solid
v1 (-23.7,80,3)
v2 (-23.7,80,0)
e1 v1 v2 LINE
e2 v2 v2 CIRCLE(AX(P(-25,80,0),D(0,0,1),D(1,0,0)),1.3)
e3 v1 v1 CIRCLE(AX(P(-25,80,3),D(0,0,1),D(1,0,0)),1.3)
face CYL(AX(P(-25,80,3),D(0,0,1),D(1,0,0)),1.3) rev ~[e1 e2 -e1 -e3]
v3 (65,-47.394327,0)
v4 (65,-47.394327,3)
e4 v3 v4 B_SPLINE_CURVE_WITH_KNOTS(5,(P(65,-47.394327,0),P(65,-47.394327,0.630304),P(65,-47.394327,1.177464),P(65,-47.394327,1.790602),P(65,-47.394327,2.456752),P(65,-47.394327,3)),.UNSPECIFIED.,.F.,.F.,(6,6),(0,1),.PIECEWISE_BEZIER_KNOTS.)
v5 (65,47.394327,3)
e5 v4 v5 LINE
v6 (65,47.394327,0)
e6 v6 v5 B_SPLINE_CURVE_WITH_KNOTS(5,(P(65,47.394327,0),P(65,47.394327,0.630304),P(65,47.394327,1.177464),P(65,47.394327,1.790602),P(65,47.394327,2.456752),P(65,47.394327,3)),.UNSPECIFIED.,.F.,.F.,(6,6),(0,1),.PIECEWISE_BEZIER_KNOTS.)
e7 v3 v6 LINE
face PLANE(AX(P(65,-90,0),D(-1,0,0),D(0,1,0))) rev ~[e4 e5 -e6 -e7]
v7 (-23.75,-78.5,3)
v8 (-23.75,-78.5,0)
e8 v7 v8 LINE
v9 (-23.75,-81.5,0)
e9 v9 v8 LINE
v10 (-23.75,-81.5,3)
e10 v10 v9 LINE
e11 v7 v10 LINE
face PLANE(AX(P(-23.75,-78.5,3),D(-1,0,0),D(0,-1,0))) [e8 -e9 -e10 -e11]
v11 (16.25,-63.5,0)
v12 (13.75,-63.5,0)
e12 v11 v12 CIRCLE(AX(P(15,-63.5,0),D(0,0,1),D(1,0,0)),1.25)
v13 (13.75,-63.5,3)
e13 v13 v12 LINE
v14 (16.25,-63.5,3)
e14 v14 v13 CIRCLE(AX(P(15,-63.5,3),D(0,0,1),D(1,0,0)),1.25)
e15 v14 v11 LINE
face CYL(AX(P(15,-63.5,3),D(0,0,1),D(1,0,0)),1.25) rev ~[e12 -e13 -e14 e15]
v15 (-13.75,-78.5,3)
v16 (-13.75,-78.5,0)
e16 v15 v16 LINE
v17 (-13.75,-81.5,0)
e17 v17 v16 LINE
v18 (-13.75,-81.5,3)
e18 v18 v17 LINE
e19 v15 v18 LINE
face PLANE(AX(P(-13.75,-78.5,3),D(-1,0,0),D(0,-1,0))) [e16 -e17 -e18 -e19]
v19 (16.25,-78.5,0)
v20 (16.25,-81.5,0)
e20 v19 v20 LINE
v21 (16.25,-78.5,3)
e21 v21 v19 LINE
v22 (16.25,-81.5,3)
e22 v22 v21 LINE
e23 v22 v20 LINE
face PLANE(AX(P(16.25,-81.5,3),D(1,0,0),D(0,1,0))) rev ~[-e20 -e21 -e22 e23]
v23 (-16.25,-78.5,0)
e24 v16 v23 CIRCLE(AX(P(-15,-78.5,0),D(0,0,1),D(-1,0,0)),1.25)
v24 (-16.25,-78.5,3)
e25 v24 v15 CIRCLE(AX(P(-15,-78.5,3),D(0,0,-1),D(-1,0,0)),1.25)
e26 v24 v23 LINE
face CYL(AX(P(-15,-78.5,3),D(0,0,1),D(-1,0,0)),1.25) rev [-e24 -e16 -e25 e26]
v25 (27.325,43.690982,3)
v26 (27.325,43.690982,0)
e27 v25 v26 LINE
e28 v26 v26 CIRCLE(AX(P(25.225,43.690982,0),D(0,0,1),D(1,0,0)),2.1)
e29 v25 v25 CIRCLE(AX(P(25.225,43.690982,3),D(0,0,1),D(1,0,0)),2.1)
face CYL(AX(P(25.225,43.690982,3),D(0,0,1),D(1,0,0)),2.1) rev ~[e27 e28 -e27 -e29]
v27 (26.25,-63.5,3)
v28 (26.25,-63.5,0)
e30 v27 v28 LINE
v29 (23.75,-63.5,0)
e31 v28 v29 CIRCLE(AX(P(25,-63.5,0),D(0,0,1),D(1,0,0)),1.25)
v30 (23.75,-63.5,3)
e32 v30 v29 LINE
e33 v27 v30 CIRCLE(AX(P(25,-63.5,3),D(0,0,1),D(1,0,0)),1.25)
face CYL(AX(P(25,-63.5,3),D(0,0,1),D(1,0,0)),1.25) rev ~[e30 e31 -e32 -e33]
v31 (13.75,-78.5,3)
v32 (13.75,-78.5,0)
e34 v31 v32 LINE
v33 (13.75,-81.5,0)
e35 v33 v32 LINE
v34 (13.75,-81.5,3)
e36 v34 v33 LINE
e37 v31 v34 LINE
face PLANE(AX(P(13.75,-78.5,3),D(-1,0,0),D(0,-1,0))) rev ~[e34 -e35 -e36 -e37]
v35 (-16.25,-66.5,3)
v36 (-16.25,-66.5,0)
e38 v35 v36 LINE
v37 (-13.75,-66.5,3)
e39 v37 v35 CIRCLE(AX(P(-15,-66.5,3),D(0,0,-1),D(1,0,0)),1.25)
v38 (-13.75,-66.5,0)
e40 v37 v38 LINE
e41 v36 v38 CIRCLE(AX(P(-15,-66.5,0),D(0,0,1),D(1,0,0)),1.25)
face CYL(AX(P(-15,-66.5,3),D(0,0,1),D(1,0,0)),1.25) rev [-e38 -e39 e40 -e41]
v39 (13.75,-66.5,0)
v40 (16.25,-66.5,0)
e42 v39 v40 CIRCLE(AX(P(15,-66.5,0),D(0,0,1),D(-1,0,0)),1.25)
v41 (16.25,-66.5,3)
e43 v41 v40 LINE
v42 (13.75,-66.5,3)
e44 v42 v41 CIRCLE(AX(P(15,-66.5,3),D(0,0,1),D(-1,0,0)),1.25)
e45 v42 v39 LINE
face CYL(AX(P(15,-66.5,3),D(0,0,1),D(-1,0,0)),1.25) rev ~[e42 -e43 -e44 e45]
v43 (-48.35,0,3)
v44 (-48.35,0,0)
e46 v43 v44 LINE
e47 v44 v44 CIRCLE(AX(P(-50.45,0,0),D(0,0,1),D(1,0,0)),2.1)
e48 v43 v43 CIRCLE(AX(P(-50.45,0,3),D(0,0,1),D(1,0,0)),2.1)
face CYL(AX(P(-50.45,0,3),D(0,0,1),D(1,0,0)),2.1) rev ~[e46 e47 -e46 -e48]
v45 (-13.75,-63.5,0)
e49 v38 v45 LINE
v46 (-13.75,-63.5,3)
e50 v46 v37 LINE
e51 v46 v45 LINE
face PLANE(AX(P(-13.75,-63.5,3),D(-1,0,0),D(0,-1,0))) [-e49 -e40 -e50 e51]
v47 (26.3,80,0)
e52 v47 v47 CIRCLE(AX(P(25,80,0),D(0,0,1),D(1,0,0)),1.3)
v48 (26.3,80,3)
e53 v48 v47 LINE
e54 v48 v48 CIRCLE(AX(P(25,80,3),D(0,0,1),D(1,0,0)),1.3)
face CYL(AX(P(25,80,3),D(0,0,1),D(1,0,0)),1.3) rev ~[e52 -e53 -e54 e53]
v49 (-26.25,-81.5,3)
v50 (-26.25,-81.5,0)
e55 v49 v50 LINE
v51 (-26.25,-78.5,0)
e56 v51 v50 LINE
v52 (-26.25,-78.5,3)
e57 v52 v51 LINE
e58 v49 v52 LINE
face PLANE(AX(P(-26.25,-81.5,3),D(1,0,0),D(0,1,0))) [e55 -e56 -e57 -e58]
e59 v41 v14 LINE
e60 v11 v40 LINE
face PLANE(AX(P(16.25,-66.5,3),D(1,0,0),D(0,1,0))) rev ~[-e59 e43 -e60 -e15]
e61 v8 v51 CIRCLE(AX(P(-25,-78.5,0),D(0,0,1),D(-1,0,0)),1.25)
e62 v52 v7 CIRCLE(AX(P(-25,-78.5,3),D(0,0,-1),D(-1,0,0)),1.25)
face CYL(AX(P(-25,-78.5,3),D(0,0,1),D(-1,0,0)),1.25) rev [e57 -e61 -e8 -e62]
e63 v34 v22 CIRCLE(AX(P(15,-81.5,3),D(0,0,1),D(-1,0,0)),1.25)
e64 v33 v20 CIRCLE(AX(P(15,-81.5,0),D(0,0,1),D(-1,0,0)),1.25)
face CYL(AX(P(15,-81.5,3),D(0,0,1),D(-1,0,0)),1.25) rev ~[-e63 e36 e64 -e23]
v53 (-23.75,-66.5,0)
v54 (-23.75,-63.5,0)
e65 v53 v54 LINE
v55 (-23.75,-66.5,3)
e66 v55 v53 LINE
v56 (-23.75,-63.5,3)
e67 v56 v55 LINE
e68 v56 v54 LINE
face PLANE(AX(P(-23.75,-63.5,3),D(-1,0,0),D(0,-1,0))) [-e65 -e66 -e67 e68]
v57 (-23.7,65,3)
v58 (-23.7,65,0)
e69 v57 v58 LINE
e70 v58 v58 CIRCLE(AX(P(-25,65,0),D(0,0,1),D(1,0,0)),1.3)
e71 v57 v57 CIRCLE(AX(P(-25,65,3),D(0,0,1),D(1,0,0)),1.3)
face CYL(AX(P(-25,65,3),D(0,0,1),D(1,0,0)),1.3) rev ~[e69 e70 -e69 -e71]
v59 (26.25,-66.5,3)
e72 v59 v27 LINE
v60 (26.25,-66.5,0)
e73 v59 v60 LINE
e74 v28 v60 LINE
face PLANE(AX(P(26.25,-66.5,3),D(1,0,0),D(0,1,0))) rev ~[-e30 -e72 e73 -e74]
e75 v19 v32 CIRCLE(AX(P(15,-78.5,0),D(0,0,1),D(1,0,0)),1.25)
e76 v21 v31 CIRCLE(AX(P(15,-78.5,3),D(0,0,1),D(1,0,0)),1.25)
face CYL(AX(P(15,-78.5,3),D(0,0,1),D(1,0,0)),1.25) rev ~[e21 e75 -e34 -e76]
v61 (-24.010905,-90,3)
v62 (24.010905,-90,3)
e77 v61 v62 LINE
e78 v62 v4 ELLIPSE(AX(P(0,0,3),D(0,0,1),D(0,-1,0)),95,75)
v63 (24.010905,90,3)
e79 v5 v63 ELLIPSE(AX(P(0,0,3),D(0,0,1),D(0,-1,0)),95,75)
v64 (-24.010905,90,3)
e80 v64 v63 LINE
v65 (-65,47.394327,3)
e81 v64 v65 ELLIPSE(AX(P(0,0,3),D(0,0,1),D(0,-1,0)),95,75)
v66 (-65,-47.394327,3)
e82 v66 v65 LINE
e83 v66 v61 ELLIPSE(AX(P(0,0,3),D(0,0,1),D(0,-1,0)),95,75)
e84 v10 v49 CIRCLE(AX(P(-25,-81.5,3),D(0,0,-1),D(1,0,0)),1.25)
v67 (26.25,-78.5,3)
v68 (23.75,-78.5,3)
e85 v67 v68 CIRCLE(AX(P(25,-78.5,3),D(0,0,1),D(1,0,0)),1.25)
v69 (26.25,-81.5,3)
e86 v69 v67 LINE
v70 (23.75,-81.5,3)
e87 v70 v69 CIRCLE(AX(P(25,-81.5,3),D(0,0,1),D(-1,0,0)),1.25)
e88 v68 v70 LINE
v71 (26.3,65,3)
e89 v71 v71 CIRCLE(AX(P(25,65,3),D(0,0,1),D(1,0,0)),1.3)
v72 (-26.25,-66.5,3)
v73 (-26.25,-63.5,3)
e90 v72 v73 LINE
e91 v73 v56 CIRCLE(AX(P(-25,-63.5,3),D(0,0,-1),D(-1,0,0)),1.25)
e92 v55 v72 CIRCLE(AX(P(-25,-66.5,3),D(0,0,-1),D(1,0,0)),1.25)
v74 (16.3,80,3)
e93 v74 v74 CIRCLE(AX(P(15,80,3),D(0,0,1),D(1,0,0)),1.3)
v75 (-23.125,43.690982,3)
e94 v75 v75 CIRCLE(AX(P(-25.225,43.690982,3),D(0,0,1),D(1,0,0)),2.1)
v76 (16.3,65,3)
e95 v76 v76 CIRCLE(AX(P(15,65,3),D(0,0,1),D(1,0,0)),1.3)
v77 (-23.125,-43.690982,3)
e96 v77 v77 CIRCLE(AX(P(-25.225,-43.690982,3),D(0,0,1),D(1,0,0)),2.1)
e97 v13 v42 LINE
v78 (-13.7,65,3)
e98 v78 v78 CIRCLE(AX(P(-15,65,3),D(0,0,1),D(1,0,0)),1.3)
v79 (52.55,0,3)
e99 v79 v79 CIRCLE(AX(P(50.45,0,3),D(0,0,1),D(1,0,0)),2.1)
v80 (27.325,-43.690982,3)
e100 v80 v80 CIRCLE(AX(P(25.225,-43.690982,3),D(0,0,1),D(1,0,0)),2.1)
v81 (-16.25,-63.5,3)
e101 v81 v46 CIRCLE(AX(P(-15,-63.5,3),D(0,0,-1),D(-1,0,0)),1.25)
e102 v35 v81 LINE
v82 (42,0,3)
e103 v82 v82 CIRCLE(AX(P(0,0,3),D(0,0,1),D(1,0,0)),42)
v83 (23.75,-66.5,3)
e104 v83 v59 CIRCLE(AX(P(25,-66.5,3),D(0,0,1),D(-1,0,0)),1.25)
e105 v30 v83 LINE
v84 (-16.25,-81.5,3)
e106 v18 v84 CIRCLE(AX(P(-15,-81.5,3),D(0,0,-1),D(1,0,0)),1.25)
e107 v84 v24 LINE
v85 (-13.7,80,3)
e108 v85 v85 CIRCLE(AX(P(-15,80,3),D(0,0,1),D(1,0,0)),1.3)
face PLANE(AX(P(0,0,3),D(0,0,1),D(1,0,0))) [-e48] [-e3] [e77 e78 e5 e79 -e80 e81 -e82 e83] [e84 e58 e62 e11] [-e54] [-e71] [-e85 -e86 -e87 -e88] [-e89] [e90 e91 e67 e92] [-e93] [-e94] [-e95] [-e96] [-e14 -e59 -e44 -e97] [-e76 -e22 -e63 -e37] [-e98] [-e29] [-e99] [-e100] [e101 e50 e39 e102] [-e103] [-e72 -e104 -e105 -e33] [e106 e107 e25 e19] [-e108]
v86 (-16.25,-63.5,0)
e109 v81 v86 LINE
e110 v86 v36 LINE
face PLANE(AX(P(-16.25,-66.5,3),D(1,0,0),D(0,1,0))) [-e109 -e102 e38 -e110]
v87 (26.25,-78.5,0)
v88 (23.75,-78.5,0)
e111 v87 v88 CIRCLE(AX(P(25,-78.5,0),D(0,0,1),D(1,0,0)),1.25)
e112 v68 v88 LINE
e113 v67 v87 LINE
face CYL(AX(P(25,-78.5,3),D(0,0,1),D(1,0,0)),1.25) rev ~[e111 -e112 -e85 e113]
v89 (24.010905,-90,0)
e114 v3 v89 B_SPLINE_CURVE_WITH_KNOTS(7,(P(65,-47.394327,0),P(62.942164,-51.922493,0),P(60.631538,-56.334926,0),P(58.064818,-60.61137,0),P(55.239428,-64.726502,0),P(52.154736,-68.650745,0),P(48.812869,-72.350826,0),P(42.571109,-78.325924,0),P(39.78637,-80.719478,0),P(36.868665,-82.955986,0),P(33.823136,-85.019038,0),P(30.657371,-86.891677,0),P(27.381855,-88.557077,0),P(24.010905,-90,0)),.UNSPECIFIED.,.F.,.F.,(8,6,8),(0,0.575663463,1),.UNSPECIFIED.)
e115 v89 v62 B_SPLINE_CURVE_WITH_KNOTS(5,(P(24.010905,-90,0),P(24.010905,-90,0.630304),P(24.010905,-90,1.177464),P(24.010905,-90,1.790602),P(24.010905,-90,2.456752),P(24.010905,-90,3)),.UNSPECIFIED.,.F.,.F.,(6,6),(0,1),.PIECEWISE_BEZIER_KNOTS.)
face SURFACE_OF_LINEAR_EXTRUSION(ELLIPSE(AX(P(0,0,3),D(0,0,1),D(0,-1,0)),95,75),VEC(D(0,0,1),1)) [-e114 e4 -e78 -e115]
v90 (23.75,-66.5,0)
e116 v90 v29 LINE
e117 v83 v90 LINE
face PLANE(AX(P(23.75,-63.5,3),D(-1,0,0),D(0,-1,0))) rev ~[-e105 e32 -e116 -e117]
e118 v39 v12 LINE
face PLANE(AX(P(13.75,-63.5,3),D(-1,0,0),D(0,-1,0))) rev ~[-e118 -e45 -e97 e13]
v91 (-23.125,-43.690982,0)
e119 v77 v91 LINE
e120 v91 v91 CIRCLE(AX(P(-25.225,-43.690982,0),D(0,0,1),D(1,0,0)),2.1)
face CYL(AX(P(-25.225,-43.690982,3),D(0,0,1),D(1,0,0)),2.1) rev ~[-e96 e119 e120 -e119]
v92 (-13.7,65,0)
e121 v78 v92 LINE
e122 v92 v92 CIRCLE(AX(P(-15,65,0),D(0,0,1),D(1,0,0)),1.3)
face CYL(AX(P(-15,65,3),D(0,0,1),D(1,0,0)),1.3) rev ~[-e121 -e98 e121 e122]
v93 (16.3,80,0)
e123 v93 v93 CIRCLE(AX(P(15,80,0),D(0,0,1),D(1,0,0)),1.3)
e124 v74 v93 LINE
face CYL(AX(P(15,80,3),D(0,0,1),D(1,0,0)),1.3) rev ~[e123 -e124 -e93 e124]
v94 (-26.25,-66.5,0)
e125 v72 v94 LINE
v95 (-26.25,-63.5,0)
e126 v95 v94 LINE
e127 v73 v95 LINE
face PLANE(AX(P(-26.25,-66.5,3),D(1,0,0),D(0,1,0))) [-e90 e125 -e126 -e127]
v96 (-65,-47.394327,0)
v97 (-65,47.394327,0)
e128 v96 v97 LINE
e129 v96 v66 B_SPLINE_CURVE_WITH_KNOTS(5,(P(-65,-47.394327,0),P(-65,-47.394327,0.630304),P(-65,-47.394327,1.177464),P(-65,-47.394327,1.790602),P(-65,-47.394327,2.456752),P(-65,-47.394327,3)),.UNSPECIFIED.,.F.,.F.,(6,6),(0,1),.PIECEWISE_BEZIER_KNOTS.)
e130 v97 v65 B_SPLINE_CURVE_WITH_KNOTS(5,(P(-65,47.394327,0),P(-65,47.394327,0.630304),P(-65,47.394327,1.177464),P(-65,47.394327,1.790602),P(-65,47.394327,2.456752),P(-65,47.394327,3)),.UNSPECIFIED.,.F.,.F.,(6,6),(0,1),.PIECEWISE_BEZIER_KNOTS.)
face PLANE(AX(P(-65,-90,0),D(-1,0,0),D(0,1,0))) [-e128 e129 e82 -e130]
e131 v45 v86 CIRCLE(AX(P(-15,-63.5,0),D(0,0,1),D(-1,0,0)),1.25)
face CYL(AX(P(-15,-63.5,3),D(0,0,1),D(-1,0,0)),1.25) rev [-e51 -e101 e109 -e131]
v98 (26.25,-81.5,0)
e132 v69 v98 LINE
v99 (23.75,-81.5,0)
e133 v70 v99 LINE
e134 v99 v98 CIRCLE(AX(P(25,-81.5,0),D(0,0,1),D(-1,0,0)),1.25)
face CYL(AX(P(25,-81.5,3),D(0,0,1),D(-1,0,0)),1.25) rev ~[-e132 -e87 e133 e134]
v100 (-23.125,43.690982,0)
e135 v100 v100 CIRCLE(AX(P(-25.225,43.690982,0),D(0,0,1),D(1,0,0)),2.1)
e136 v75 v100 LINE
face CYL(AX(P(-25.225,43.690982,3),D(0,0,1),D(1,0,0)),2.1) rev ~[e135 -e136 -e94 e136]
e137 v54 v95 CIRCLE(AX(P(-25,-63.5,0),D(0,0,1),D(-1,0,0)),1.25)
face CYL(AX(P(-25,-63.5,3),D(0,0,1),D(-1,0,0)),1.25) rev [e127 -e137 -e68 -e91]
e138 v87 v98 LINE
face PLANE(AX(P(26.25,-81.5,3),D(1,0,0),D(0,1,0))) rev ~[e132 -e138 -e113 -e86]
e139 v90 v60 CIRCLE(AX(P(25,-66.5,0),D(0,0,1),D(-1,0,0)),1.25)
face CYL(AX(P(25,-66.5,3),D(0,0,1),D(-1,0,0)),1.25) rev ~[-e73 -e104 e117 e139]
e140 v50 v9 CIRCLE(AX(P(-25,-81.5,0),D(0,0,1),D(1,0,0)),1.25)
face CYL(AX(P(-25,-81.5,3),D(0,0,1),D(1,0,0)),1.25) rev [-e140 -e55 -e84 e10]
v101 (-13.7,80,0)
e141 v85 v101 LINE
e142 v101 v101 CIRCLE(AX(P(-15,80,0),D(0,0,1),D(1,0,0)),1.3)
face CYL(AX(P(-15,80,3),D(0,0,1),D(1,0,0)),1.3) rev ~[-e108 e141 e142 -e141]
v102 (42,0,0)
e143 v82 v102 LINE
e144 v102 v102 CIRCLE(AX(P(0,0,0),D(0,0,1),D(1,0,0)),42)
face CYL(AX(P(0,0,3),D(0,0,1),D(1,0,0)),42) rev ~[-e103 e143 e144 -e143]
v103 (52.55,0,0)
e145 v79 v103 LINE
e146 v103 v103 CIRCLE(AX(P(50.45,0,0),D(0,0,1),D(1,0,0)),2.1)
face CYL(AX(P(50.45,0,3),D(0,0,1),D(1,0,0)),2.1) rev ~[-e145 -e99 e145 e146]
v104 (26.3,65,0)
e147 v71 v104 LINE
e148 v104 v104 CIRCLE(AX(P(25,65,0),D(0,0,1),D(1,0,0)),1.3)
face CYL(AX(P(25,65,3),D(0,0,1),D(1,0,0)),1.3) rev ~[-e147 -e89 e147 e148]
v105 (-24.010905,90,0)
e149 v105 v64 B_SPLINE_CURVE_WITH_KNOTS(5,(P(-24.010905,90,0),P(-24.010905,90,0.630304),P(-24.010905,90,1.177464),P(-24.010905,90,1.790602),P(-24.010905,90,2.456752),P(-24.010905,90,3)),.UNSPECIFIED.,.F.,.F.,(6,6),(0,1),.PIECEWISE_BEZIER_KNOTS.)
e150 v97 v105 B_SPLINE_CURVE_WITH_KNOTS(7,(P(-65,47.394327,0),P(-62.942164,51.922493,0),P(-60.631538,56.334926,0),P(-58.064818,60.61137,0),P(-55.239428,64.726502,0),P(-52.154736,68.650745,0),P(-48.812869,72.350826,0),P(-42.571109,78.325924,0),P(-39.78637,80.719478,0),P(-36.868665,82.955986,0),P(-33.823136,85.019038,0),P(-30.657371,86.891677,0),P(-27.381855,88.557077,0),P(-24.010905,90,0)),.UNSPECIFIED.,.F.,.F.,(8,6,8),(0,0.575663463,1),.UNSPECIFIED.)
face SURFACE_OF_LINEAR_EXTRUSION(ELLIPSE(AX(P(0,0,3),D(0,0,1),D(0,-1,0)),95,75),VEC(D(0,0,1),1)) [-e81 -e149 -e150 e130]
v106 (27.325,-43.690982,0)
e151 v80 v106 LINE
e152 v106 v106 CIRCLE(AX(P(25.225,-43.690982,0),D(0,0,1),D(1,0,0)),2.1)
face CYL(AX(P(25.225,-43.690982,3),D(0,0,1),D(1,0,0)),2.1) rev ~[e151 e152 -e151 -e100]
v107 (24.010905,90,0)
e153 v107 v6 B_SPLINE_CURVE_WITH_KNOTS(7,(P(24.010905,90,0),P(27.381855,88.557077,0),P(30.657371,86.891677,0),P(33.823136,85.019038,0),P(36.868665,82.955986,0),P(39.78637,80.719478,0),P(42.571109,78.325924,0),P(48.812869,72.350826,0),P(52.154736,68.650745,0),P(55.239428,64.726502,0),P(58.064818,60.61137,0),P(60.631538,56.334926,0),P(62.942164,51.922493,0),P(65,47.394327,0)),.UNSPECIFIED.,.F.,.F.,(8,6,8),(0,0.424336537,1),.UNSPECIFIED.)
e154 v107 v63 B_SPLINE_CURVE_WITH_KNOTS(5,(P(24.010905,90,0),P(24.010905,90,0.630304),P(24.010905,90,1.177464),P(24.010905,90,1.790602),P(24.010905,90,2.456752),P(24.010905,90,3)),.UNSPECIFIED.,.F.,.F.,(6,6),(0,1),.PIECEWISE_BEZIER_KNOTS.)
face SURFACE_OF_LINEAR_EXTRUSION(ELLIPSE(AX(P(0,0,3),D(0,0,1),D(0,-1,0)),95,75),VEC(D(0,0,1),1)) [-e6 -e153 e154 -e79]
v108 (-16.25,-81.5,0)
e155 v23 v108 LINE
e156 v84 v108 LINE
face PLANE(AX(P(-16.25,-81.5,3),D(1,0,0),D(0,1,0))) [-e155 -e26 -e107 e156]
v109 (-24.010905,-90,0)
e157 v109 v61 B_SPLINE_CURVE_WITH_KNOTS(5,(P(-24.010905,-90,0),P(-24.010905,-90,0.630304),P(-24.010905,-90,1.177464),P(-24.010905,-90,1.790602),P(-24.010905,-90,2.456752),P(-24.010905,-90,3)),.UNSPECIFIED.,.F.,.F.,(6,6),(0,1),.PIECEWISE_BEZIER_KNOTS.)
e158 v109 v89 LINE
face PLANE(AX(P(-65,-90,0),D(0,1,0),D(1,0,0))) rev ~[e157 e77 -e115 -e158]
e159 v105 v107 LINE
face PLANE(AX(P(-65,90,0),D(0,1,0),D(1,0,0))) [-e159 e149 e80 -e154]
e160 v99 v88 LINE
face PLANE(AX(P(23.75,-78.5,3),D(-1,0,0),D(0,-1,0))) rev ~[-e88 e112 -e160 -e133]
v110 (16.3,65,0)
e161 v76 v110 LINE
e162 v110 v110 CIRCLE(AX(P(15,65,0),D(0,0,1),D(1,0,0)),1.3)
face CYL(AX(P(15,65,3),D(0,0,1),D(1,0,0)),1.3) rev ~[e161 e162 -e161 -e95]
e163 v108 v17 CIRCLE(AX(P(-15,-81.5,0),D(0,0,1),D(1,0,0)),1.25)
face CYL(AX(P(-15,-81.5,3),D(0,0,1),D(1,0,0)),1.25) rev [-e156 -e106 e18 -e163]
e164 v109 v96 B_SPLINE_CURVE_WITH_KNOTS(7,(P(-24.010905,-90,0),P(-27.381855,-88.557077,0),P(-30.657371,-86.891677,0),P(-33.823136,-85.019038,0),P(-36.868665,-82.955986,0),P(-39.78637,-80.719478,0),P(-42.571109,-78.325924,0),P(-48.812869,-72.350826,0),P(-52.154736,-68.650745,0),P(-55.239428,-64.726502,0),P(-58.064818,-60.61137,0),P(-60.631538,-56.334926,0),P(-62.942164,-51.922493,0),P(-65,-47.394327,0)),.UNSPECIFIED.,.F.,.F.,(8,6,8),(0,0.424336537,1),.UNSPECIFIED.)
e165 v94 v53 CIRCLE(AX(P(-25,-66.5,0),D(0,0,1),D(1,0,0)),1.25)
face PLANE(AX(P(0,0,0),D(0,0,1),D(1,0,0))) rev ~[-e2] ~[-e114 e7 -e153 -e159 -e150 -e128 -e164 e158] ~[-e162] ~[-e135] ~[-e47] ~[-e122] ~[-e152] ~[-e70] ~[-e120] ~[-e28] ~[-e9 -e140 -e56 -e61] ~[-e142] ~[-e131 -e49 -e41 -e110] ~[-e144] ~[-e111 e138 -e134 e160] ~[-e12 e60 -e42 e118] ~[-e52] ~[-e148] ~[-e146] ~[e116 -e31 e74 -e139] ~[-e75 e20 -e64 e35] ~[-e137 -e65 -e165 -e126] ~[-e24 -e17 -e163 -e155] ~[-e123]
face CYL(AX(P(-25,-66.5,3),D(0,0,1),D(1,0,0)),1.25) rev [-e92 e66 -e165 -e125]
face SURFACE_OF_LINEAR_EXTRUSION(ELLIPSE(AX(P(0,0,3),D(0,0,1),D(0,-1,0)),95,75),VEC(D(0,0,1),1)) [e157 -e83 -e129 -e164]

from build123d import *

# Parameters (mm, degrees)
SKETCH_1_W          = 130
SKETCH_1_H          = 180
EXTRUDE_1_DEPTH     = 3
SKETCH_5_R          = 42
CUT_EXTRUDE_2_DEPTH = 10
SKETCH_8_R          = 2.1
CUT_EXTRUDE_5_DEPTH = 10
SKETCH_9_OUTSIDE_W  = 176.412
SKETCH_9_OUTSIDE_H  = 226.412
SKETCH_9_OUTSIDE_RX = 95
SKETCH_9_OUTSIDE_RY = 75
CUT_EXTRUDE_7_DEPTH = 10
CUT_EXTRUDE_8_REACH = 113.059
SKETCH_4_R          = 1.3


with BuildPart() as part:
    # 草图1 → 凸台-拉伸1 (new body)
    with BuildSketch(Plane.XY):
        Rectangle(SKETCH_1_W, SKETCH_1_H)
    extrude(amount=EXTRUDE_1_DEPTH)

    # 草图5 → 切除-拉伸2 (cut)
    with BuildSketch(Plane.XY.offset(3)):
        Circle(SKETCH_5_R)
    extrude(amount=-CUT_EXTRUDE_2_DEPTH, mode=Mode.SUBTRACT)

    # 草图8 → 切除-拉伸5 (cut)
    with BuildSketch(Plane.XY.offset(3)):
        with Locations((-50.45, 0)):
            Circle(SKETCH_8_R)
        with Locations((-25.225, 43.690981621)):
            Circle(SKETCH_8_R)
        with Locations((25.225, 43.690981621)):
            Circle(SKETCH_8_R)
        with Locations((50.45, 0)):
            Circle(SKETCH_8_R)
        with Locations((25.225, -43.690981621)):
            Circle(SKETCH_8_R)
        with Locations((-25.225, -43.690981621)):
            Circle(SKETCH_8_R)
    extrude(amount=-CUT_EXTRUDE_5_DEPTH, mode=Mode.SUBTRACT)

    # 草图9 outside → 切除-拉伸7 (cut)
    with BuildSketch(Plane.XY.offset(3)):
        Rectangle(SKETCH_9_OUTSIDE_W, SKETCH_9_OUTSIDE_H)
        with Locations(Location((0, 0), (0, 0, -90))):
            Ellipse(SKETCH_9_OUTSIDE_RX, SKETCH_9_OUTSIDE_RY, mode=Mode.SUBTRACT)
    extrude(amount=-CUT_EXTRUDE_7_DEPTH, mode=Mode.SUBTRACT)

    # 草图4 → 切除-拉伸8 (cut, up to next)
    with BuildSketch(Plane.XY.offset(3), mode=Mode.PRIVATE) as cut_extrude_8_sk1:
        with Locations((15, 65)):
            Circle(SKETCH_4_R)
    cut_extrude_8_tool1 = extrude(cut_extrude_8_sk1.sketch, amount=-CUT_EXTRUDE_8_REACH, mode=Mode.PRIVATE) & part.part
    # 草图4 → 切除-拉伸8 (cut, up to next)
    with BuildSketch(Plane.XY.offset(3), mode=Mode.PRIVATE) as cut_extrude_8_sk2:
        with Locations((25, 65)):
            Circle(SKETCH_4_R)
    cut_extrude_8_tool2 = extrude(cut_extrude_8_sk2.sketch, amount=-CUT_EXTRUDE_8_REACH, mode=Mode.PRIVATE) & part.part
    # 草图4 → 切除-拉伸8 (cut, up to next)
    with BuildSketch(Plane.XY.offset(3), mode=Mode.PRIVATE) as cut_extrude_8_sk3:
        with Locations((25, 80)):
            Circle(SKETCH_4_R)
    cut_extrude_8_tool3 = extrude(cut_extrude_8_sk3.sketch, amount=-CUT_EXTRUDE_8_REACH, mode=Mode.PRIVATE) & part.part
    # 草图4 → 切除-拉伸8 (cut, up to next)
    with BuildSketch(Plane.XY.offset(3), mode=Mode.PRIVATE) as cut_extrude_8_sk4:
        with Locations((15, 80)):
            Circle(SKETCH_4_R)
    cut_extrude_8_tool4 = extrude(cut_extrude_8_sk4.sketch, amount=-CUT_EXTRUDE_8_REACH, mode=Mode.PRIVATE) & part.part
    # 草图4 → 切除-拉伸8 (cut, up to next)
    with BuildSketch(Plane.XY.offset(3), mode=Mode.PRIVATE) as cut_extrude_8_sk5:
        with Locations((-25, 80)):
            Circle(SKETCH_4_R)
    cut_extrude_8_tool5 = extrude(cut_extrude_8_sk5.sketch, amount=-CUT_EXTRUDE_8_REACH, mode=Mode.PRIVATE) & part.part
    # 草图4 → 切除-拉伸8 (cut, up to next)
    with BuildSketch(Plane.XY.offset(3), mode=Mode.PRIVATE) as cut_extrude_8_sk6:
        with Locations((-15, 80)):
            Circle(SKETCH_4_R)
    cut_extrude_8_tool6 = extrude(cut_extrude_8_sk6.sketch, amount=-CUT_EXTRUDE_8_REACH, mode=Mode.PRIVATE) & part.part
    # 草图4 → 切除-拉伸8 (cut, up to next)
    with BuildSketch(Plane.XY.offset(3), mode=Mode.PRIVATE) as cut_extrude_8_sk7:
        with Locations((-15, 65)):
            Circle(SKETCH_4_R)
    cut_extrude_8_tool7 = extrude(cut_extrude_8_sk7.sketch, amount=-CUT_EXTRUDE_8_REACH, mode=Mode.PRIVATE) & part.part
    # 草图4 → 切除-拉伸8 (cut, up to next)
    with BuildSketch(Plane.XY.offset(3), mode=Mode.PRIVATE) as cut_extrude_8_sk8:
        with Locations((-25, 65)):
            Circle(SKETCH_4_R)
    cut_extrude_8_tool8 = extrude(cut_extrude_8_sk8.sketch, amount=-CUT_EXTRUDE_8_REACH, mode=Mode.PRIVATE) & part.part
    # 草图4 → 切除-拉伸8 (cut, up to next)
    with BuildSketch(Plane.XY.offset(3), mode=Mode.PRIVATE) as cut_extrude_8_sk9:
        with BuildLine():
            Line((-23.75, -63.5), (-23.75, -66.5))
            ThreePointArc((-23.75, -66.5), (-25, -67.75), (-26.25, -66.5))
            Line((-26.25, -66.5), (-26.25, -63.5))
            ThreePointArc((-26.25, -63.5), (-25, -62.25), (-23.75, -63.5))
        make_face()
    cut_extrude_8_tool9 = extrude(cut_extrude_8_sk9.sketch, amount=-CUT_EXTRUDE_8_REACH, mode=Mode.PRIVATE) & part.part
    # 草图4 → 切除-拉伸8 (cut, up to next)
    with BuildSketch(Plane.XY.offset(3), mode=Mode.PRIVATE) as cut_extrude_8_sk10:
        with BuildLine():
            Line((-13.75, -63.5), (-13.75, -66.5))
            ThreePointArc((-13.75, -66.5), (-15, -67.75), (-16.25, -66.5))
            Line((-16.25, -66.5), (-16.25, -63.5))
            ThreePointArc((-16.25, -63.5), (-15, -62.25), (-13.75, -63.5))
        make_face()
    cut_extrude_8_tool10 = extrude(cut_extrude_8_sk10.sketch, amount=-CUT_EXTRUDE_8_REACH, mode=Mode.PRIVATE) & part.part
    # 草图4 → 切除-拉伸8 (cut, up to next)
    with BuildSketch(Plane.XY.offset(3), mode=Mode.PRIVATE) as cut_extrude_8_sk11:
        with BuildLine():
            Line((-23.75, -78.5), (-23.75, -81.5))
            ThreePointArc((-23.75, -81.5), (-25, -82.75), (-26.25, -81.5))
            Line((-26.25, -81.5), (-26.25, -78.5))
            ThreePointArc((-26.25, -78.5), (-25, -77.25), (-23.75, -78.5))
        make_face()
    cut_extrude_8_tool11 = extrude(cut_extrude_8_sk11.sketch, amount=-CUT_EXTRUDE_8_REACH, mode=Mode.PRIVATE) & part.part
    # 草图4 → 切除-拉伸8 (cut, up to next)
    with BuildSketch(Plane.XY.offset(3), mode=Mode.PRIVATE) as cut_extrude_8_sk12:
        with BuildLine():
            Line((-13.75, -78.5), (-13.75, -81.5))
            ThreePointArc((-13.75, -81.5), (-15, -82.75), (-16.25, -81.5))
            Line((-16.25, -81.5), (-16.25, -78.5))
            ThreePointArc((-16.25, -78.5), (-15, -77.25), (-13.75, -78.5))
        make_face()
    cut_extrude_8_tool12 = extrude(cut_extrude_8_sk12.sketch, amount=-CUT_EXTRUDE_8_REACH, mode=Mode.PRIVATE) & part.part
    # 草图4 → 切除-拉伸8 (cut, up to next)
    with BuildSketch(Plane.XY.offset(3), mode=Mode.PRIVATE) as cut_extrude_8_sk13:
        with BuildLine():
            Line((13.75, -78.5), (13.75, -81.5))
            ThreePointArc((13.75, -81.5), (15, -82.75), (16.25, -81.5))
            Line((16.25, -81.5), (16.25, -78.5))
            ThreePointArc((16.25, -78.5), (15, -77.25), (13.75, -78.5))
        make_face()
    cut_extrude_8_tool13 = extrude(cut_extrude_8_sk13.sketch, amount=-CUT_EXTRUDE_8_REACH, mode=Mode.PRIVATE) & part.part
    # 草图4 → 切除-拉伸8 (cut, up to next)
    with BuildSketch(Plane.XY.offset(3), mode=Mode.PRIVATE) as cut_extrude_8_sk14:
        with BuildLine():
            Line((23.75, -78.5), (23.75, -81.5))
            ThreePointArc((23.75, -81.5), (25, -82.75), (26.25, -81.5))
            Line((26.25, -81.5), (26.25, -78.5))
            ThreePointArc((26.25, -78.5), (25, -77.25), (23.75, -78.5))
        make_face()
    cut_extrude_8_tool14 = extrude(cut_extrude_8_sk14.sketch, amount=-CUT_EXTRUDE_8_REACH, mode=Mode.PRIVATE) & part.part
    # 草图4 → 切除-拉伸8 (cut, up to next)
    with BuildSketch(Plane.XY.offset(3), mode=Mode.PRIVATE) as cut_extrude_8_sk15:
        with BuildLine():
            Line((23.75, -63.5), (23.75, -66.5))
            ThreePointArc((23.75, -66.5), (25, -67.75), (26.25, -66.5))
            Line((26.25, -66.5), (26.25, -63.5))
            ThreePointArc((26.25, -63.5), (25, -62.25), (23.75, -63.5))
        make_face()
    cut_extrude_8_tool15 = extrude(cut_extrude_8_sk15.sketch, amount=-CUT_EXTRUDE_8_REACH, mode=Mode.PRIVATE) & part.part
    # 草图4 → 切除-拉伸8 (cut, up to next)
    with BuildSketch(Plane.XY.offset(3), mode=Mode.PRIVATE) as cut_extrude_8_sk16:
        with BuildLine():
            Line((13.75, -63.5), (13.75, -66.5))
            ThreePointArc((13.75, -66.5), (15, -67.75), (16.25, -66.5))
            Line((16.25, -66.5), (16.25, -63.5))
            ThreePointArc((16.25, -63.5), (15, -62.25), (13.75, -63.5))
        make_face()
    cut_extrude_8_tool16 = extrude(cut_extrude_8_sk16.sketch, amount=-CUT_EXTRUDE_8_REACH, mode=Mode.PRIVATE) & part.part
    add(cut_extrude_8_tool1.solids().sort_by_distance((15, 65, 3))[0], mode=Mode.SUBTRACT)
    add(cut_extrude_8_tool2.solids().sort_by_distance((25, 65, 3))[0], mode=Mode.SUBTRACT)
    add(cut_extrude_8_tool3.solids().sort_by_distance((25, 80, 3))[0], mode=Mode.SUBTRACT)
    add(cut_extrude_8_tool4.solids().sort_by_distance((15, 80, 3))[0], mode=Mode.SUBTRACT)
    add(cut_extrude_8_tool5.solids().sort_by_distance((-25, 80, 3))[0], mode=Mode.SUBTRACT)
    add(cut_extrude_8_tool6.solids().sort_by_distance((-15, 80, 3))[0], mode=Mode.SUBTRACT)
    add(cut_extrude_8_tool7.solids().sort_by_distance((-15, 65, 3))[0], mode=Mode.SUBTRACT)
    add(cut_extrude_8_tool8.solids().sort_by_distance((-25, 65, 3))[0], mode=Mode.SUBTRACT)
    add(cut_extrude_8_tool9.solids().sort_by_distance((-25, -65, 3))[0], mode=Mode.SUBTRACT)
    add(cut_extrude_8_tool10.solids().sort_by_distance((-15, -65, 3))[0], mode=Mode.SUBTRACT)
    add(cut_extrude_8_tool11.solids().sort_by_distance((-25, -80, 3))[0], mode=Mode.SUBTRACT)
    add(cut_extrude_8_tool12.solids().sort_by_distance((-15, -80, 3))[0], mode=Mode.SUBTRACT)
    add(cut_extrude_8_tool13.solids().sort_by_distance((15, -80, 3))[0], mode=Mode.SUBTRACT)
    add(cut_extrude_8_tool14.solids().sort_by_distance((25, -80, 3))[0], mode=Mode.SUBTRACT)
    add(cut_extrude_8_tool15.solids().sort_by_distance((25, -65, 3))[0], mode=Mode.SUBTRACT)
    add(cut_extrude_8_tool16.solids().sort_by_distance((15, -65, 3))[0], mode=Mode.SUBTRACT)


solid = part.part
